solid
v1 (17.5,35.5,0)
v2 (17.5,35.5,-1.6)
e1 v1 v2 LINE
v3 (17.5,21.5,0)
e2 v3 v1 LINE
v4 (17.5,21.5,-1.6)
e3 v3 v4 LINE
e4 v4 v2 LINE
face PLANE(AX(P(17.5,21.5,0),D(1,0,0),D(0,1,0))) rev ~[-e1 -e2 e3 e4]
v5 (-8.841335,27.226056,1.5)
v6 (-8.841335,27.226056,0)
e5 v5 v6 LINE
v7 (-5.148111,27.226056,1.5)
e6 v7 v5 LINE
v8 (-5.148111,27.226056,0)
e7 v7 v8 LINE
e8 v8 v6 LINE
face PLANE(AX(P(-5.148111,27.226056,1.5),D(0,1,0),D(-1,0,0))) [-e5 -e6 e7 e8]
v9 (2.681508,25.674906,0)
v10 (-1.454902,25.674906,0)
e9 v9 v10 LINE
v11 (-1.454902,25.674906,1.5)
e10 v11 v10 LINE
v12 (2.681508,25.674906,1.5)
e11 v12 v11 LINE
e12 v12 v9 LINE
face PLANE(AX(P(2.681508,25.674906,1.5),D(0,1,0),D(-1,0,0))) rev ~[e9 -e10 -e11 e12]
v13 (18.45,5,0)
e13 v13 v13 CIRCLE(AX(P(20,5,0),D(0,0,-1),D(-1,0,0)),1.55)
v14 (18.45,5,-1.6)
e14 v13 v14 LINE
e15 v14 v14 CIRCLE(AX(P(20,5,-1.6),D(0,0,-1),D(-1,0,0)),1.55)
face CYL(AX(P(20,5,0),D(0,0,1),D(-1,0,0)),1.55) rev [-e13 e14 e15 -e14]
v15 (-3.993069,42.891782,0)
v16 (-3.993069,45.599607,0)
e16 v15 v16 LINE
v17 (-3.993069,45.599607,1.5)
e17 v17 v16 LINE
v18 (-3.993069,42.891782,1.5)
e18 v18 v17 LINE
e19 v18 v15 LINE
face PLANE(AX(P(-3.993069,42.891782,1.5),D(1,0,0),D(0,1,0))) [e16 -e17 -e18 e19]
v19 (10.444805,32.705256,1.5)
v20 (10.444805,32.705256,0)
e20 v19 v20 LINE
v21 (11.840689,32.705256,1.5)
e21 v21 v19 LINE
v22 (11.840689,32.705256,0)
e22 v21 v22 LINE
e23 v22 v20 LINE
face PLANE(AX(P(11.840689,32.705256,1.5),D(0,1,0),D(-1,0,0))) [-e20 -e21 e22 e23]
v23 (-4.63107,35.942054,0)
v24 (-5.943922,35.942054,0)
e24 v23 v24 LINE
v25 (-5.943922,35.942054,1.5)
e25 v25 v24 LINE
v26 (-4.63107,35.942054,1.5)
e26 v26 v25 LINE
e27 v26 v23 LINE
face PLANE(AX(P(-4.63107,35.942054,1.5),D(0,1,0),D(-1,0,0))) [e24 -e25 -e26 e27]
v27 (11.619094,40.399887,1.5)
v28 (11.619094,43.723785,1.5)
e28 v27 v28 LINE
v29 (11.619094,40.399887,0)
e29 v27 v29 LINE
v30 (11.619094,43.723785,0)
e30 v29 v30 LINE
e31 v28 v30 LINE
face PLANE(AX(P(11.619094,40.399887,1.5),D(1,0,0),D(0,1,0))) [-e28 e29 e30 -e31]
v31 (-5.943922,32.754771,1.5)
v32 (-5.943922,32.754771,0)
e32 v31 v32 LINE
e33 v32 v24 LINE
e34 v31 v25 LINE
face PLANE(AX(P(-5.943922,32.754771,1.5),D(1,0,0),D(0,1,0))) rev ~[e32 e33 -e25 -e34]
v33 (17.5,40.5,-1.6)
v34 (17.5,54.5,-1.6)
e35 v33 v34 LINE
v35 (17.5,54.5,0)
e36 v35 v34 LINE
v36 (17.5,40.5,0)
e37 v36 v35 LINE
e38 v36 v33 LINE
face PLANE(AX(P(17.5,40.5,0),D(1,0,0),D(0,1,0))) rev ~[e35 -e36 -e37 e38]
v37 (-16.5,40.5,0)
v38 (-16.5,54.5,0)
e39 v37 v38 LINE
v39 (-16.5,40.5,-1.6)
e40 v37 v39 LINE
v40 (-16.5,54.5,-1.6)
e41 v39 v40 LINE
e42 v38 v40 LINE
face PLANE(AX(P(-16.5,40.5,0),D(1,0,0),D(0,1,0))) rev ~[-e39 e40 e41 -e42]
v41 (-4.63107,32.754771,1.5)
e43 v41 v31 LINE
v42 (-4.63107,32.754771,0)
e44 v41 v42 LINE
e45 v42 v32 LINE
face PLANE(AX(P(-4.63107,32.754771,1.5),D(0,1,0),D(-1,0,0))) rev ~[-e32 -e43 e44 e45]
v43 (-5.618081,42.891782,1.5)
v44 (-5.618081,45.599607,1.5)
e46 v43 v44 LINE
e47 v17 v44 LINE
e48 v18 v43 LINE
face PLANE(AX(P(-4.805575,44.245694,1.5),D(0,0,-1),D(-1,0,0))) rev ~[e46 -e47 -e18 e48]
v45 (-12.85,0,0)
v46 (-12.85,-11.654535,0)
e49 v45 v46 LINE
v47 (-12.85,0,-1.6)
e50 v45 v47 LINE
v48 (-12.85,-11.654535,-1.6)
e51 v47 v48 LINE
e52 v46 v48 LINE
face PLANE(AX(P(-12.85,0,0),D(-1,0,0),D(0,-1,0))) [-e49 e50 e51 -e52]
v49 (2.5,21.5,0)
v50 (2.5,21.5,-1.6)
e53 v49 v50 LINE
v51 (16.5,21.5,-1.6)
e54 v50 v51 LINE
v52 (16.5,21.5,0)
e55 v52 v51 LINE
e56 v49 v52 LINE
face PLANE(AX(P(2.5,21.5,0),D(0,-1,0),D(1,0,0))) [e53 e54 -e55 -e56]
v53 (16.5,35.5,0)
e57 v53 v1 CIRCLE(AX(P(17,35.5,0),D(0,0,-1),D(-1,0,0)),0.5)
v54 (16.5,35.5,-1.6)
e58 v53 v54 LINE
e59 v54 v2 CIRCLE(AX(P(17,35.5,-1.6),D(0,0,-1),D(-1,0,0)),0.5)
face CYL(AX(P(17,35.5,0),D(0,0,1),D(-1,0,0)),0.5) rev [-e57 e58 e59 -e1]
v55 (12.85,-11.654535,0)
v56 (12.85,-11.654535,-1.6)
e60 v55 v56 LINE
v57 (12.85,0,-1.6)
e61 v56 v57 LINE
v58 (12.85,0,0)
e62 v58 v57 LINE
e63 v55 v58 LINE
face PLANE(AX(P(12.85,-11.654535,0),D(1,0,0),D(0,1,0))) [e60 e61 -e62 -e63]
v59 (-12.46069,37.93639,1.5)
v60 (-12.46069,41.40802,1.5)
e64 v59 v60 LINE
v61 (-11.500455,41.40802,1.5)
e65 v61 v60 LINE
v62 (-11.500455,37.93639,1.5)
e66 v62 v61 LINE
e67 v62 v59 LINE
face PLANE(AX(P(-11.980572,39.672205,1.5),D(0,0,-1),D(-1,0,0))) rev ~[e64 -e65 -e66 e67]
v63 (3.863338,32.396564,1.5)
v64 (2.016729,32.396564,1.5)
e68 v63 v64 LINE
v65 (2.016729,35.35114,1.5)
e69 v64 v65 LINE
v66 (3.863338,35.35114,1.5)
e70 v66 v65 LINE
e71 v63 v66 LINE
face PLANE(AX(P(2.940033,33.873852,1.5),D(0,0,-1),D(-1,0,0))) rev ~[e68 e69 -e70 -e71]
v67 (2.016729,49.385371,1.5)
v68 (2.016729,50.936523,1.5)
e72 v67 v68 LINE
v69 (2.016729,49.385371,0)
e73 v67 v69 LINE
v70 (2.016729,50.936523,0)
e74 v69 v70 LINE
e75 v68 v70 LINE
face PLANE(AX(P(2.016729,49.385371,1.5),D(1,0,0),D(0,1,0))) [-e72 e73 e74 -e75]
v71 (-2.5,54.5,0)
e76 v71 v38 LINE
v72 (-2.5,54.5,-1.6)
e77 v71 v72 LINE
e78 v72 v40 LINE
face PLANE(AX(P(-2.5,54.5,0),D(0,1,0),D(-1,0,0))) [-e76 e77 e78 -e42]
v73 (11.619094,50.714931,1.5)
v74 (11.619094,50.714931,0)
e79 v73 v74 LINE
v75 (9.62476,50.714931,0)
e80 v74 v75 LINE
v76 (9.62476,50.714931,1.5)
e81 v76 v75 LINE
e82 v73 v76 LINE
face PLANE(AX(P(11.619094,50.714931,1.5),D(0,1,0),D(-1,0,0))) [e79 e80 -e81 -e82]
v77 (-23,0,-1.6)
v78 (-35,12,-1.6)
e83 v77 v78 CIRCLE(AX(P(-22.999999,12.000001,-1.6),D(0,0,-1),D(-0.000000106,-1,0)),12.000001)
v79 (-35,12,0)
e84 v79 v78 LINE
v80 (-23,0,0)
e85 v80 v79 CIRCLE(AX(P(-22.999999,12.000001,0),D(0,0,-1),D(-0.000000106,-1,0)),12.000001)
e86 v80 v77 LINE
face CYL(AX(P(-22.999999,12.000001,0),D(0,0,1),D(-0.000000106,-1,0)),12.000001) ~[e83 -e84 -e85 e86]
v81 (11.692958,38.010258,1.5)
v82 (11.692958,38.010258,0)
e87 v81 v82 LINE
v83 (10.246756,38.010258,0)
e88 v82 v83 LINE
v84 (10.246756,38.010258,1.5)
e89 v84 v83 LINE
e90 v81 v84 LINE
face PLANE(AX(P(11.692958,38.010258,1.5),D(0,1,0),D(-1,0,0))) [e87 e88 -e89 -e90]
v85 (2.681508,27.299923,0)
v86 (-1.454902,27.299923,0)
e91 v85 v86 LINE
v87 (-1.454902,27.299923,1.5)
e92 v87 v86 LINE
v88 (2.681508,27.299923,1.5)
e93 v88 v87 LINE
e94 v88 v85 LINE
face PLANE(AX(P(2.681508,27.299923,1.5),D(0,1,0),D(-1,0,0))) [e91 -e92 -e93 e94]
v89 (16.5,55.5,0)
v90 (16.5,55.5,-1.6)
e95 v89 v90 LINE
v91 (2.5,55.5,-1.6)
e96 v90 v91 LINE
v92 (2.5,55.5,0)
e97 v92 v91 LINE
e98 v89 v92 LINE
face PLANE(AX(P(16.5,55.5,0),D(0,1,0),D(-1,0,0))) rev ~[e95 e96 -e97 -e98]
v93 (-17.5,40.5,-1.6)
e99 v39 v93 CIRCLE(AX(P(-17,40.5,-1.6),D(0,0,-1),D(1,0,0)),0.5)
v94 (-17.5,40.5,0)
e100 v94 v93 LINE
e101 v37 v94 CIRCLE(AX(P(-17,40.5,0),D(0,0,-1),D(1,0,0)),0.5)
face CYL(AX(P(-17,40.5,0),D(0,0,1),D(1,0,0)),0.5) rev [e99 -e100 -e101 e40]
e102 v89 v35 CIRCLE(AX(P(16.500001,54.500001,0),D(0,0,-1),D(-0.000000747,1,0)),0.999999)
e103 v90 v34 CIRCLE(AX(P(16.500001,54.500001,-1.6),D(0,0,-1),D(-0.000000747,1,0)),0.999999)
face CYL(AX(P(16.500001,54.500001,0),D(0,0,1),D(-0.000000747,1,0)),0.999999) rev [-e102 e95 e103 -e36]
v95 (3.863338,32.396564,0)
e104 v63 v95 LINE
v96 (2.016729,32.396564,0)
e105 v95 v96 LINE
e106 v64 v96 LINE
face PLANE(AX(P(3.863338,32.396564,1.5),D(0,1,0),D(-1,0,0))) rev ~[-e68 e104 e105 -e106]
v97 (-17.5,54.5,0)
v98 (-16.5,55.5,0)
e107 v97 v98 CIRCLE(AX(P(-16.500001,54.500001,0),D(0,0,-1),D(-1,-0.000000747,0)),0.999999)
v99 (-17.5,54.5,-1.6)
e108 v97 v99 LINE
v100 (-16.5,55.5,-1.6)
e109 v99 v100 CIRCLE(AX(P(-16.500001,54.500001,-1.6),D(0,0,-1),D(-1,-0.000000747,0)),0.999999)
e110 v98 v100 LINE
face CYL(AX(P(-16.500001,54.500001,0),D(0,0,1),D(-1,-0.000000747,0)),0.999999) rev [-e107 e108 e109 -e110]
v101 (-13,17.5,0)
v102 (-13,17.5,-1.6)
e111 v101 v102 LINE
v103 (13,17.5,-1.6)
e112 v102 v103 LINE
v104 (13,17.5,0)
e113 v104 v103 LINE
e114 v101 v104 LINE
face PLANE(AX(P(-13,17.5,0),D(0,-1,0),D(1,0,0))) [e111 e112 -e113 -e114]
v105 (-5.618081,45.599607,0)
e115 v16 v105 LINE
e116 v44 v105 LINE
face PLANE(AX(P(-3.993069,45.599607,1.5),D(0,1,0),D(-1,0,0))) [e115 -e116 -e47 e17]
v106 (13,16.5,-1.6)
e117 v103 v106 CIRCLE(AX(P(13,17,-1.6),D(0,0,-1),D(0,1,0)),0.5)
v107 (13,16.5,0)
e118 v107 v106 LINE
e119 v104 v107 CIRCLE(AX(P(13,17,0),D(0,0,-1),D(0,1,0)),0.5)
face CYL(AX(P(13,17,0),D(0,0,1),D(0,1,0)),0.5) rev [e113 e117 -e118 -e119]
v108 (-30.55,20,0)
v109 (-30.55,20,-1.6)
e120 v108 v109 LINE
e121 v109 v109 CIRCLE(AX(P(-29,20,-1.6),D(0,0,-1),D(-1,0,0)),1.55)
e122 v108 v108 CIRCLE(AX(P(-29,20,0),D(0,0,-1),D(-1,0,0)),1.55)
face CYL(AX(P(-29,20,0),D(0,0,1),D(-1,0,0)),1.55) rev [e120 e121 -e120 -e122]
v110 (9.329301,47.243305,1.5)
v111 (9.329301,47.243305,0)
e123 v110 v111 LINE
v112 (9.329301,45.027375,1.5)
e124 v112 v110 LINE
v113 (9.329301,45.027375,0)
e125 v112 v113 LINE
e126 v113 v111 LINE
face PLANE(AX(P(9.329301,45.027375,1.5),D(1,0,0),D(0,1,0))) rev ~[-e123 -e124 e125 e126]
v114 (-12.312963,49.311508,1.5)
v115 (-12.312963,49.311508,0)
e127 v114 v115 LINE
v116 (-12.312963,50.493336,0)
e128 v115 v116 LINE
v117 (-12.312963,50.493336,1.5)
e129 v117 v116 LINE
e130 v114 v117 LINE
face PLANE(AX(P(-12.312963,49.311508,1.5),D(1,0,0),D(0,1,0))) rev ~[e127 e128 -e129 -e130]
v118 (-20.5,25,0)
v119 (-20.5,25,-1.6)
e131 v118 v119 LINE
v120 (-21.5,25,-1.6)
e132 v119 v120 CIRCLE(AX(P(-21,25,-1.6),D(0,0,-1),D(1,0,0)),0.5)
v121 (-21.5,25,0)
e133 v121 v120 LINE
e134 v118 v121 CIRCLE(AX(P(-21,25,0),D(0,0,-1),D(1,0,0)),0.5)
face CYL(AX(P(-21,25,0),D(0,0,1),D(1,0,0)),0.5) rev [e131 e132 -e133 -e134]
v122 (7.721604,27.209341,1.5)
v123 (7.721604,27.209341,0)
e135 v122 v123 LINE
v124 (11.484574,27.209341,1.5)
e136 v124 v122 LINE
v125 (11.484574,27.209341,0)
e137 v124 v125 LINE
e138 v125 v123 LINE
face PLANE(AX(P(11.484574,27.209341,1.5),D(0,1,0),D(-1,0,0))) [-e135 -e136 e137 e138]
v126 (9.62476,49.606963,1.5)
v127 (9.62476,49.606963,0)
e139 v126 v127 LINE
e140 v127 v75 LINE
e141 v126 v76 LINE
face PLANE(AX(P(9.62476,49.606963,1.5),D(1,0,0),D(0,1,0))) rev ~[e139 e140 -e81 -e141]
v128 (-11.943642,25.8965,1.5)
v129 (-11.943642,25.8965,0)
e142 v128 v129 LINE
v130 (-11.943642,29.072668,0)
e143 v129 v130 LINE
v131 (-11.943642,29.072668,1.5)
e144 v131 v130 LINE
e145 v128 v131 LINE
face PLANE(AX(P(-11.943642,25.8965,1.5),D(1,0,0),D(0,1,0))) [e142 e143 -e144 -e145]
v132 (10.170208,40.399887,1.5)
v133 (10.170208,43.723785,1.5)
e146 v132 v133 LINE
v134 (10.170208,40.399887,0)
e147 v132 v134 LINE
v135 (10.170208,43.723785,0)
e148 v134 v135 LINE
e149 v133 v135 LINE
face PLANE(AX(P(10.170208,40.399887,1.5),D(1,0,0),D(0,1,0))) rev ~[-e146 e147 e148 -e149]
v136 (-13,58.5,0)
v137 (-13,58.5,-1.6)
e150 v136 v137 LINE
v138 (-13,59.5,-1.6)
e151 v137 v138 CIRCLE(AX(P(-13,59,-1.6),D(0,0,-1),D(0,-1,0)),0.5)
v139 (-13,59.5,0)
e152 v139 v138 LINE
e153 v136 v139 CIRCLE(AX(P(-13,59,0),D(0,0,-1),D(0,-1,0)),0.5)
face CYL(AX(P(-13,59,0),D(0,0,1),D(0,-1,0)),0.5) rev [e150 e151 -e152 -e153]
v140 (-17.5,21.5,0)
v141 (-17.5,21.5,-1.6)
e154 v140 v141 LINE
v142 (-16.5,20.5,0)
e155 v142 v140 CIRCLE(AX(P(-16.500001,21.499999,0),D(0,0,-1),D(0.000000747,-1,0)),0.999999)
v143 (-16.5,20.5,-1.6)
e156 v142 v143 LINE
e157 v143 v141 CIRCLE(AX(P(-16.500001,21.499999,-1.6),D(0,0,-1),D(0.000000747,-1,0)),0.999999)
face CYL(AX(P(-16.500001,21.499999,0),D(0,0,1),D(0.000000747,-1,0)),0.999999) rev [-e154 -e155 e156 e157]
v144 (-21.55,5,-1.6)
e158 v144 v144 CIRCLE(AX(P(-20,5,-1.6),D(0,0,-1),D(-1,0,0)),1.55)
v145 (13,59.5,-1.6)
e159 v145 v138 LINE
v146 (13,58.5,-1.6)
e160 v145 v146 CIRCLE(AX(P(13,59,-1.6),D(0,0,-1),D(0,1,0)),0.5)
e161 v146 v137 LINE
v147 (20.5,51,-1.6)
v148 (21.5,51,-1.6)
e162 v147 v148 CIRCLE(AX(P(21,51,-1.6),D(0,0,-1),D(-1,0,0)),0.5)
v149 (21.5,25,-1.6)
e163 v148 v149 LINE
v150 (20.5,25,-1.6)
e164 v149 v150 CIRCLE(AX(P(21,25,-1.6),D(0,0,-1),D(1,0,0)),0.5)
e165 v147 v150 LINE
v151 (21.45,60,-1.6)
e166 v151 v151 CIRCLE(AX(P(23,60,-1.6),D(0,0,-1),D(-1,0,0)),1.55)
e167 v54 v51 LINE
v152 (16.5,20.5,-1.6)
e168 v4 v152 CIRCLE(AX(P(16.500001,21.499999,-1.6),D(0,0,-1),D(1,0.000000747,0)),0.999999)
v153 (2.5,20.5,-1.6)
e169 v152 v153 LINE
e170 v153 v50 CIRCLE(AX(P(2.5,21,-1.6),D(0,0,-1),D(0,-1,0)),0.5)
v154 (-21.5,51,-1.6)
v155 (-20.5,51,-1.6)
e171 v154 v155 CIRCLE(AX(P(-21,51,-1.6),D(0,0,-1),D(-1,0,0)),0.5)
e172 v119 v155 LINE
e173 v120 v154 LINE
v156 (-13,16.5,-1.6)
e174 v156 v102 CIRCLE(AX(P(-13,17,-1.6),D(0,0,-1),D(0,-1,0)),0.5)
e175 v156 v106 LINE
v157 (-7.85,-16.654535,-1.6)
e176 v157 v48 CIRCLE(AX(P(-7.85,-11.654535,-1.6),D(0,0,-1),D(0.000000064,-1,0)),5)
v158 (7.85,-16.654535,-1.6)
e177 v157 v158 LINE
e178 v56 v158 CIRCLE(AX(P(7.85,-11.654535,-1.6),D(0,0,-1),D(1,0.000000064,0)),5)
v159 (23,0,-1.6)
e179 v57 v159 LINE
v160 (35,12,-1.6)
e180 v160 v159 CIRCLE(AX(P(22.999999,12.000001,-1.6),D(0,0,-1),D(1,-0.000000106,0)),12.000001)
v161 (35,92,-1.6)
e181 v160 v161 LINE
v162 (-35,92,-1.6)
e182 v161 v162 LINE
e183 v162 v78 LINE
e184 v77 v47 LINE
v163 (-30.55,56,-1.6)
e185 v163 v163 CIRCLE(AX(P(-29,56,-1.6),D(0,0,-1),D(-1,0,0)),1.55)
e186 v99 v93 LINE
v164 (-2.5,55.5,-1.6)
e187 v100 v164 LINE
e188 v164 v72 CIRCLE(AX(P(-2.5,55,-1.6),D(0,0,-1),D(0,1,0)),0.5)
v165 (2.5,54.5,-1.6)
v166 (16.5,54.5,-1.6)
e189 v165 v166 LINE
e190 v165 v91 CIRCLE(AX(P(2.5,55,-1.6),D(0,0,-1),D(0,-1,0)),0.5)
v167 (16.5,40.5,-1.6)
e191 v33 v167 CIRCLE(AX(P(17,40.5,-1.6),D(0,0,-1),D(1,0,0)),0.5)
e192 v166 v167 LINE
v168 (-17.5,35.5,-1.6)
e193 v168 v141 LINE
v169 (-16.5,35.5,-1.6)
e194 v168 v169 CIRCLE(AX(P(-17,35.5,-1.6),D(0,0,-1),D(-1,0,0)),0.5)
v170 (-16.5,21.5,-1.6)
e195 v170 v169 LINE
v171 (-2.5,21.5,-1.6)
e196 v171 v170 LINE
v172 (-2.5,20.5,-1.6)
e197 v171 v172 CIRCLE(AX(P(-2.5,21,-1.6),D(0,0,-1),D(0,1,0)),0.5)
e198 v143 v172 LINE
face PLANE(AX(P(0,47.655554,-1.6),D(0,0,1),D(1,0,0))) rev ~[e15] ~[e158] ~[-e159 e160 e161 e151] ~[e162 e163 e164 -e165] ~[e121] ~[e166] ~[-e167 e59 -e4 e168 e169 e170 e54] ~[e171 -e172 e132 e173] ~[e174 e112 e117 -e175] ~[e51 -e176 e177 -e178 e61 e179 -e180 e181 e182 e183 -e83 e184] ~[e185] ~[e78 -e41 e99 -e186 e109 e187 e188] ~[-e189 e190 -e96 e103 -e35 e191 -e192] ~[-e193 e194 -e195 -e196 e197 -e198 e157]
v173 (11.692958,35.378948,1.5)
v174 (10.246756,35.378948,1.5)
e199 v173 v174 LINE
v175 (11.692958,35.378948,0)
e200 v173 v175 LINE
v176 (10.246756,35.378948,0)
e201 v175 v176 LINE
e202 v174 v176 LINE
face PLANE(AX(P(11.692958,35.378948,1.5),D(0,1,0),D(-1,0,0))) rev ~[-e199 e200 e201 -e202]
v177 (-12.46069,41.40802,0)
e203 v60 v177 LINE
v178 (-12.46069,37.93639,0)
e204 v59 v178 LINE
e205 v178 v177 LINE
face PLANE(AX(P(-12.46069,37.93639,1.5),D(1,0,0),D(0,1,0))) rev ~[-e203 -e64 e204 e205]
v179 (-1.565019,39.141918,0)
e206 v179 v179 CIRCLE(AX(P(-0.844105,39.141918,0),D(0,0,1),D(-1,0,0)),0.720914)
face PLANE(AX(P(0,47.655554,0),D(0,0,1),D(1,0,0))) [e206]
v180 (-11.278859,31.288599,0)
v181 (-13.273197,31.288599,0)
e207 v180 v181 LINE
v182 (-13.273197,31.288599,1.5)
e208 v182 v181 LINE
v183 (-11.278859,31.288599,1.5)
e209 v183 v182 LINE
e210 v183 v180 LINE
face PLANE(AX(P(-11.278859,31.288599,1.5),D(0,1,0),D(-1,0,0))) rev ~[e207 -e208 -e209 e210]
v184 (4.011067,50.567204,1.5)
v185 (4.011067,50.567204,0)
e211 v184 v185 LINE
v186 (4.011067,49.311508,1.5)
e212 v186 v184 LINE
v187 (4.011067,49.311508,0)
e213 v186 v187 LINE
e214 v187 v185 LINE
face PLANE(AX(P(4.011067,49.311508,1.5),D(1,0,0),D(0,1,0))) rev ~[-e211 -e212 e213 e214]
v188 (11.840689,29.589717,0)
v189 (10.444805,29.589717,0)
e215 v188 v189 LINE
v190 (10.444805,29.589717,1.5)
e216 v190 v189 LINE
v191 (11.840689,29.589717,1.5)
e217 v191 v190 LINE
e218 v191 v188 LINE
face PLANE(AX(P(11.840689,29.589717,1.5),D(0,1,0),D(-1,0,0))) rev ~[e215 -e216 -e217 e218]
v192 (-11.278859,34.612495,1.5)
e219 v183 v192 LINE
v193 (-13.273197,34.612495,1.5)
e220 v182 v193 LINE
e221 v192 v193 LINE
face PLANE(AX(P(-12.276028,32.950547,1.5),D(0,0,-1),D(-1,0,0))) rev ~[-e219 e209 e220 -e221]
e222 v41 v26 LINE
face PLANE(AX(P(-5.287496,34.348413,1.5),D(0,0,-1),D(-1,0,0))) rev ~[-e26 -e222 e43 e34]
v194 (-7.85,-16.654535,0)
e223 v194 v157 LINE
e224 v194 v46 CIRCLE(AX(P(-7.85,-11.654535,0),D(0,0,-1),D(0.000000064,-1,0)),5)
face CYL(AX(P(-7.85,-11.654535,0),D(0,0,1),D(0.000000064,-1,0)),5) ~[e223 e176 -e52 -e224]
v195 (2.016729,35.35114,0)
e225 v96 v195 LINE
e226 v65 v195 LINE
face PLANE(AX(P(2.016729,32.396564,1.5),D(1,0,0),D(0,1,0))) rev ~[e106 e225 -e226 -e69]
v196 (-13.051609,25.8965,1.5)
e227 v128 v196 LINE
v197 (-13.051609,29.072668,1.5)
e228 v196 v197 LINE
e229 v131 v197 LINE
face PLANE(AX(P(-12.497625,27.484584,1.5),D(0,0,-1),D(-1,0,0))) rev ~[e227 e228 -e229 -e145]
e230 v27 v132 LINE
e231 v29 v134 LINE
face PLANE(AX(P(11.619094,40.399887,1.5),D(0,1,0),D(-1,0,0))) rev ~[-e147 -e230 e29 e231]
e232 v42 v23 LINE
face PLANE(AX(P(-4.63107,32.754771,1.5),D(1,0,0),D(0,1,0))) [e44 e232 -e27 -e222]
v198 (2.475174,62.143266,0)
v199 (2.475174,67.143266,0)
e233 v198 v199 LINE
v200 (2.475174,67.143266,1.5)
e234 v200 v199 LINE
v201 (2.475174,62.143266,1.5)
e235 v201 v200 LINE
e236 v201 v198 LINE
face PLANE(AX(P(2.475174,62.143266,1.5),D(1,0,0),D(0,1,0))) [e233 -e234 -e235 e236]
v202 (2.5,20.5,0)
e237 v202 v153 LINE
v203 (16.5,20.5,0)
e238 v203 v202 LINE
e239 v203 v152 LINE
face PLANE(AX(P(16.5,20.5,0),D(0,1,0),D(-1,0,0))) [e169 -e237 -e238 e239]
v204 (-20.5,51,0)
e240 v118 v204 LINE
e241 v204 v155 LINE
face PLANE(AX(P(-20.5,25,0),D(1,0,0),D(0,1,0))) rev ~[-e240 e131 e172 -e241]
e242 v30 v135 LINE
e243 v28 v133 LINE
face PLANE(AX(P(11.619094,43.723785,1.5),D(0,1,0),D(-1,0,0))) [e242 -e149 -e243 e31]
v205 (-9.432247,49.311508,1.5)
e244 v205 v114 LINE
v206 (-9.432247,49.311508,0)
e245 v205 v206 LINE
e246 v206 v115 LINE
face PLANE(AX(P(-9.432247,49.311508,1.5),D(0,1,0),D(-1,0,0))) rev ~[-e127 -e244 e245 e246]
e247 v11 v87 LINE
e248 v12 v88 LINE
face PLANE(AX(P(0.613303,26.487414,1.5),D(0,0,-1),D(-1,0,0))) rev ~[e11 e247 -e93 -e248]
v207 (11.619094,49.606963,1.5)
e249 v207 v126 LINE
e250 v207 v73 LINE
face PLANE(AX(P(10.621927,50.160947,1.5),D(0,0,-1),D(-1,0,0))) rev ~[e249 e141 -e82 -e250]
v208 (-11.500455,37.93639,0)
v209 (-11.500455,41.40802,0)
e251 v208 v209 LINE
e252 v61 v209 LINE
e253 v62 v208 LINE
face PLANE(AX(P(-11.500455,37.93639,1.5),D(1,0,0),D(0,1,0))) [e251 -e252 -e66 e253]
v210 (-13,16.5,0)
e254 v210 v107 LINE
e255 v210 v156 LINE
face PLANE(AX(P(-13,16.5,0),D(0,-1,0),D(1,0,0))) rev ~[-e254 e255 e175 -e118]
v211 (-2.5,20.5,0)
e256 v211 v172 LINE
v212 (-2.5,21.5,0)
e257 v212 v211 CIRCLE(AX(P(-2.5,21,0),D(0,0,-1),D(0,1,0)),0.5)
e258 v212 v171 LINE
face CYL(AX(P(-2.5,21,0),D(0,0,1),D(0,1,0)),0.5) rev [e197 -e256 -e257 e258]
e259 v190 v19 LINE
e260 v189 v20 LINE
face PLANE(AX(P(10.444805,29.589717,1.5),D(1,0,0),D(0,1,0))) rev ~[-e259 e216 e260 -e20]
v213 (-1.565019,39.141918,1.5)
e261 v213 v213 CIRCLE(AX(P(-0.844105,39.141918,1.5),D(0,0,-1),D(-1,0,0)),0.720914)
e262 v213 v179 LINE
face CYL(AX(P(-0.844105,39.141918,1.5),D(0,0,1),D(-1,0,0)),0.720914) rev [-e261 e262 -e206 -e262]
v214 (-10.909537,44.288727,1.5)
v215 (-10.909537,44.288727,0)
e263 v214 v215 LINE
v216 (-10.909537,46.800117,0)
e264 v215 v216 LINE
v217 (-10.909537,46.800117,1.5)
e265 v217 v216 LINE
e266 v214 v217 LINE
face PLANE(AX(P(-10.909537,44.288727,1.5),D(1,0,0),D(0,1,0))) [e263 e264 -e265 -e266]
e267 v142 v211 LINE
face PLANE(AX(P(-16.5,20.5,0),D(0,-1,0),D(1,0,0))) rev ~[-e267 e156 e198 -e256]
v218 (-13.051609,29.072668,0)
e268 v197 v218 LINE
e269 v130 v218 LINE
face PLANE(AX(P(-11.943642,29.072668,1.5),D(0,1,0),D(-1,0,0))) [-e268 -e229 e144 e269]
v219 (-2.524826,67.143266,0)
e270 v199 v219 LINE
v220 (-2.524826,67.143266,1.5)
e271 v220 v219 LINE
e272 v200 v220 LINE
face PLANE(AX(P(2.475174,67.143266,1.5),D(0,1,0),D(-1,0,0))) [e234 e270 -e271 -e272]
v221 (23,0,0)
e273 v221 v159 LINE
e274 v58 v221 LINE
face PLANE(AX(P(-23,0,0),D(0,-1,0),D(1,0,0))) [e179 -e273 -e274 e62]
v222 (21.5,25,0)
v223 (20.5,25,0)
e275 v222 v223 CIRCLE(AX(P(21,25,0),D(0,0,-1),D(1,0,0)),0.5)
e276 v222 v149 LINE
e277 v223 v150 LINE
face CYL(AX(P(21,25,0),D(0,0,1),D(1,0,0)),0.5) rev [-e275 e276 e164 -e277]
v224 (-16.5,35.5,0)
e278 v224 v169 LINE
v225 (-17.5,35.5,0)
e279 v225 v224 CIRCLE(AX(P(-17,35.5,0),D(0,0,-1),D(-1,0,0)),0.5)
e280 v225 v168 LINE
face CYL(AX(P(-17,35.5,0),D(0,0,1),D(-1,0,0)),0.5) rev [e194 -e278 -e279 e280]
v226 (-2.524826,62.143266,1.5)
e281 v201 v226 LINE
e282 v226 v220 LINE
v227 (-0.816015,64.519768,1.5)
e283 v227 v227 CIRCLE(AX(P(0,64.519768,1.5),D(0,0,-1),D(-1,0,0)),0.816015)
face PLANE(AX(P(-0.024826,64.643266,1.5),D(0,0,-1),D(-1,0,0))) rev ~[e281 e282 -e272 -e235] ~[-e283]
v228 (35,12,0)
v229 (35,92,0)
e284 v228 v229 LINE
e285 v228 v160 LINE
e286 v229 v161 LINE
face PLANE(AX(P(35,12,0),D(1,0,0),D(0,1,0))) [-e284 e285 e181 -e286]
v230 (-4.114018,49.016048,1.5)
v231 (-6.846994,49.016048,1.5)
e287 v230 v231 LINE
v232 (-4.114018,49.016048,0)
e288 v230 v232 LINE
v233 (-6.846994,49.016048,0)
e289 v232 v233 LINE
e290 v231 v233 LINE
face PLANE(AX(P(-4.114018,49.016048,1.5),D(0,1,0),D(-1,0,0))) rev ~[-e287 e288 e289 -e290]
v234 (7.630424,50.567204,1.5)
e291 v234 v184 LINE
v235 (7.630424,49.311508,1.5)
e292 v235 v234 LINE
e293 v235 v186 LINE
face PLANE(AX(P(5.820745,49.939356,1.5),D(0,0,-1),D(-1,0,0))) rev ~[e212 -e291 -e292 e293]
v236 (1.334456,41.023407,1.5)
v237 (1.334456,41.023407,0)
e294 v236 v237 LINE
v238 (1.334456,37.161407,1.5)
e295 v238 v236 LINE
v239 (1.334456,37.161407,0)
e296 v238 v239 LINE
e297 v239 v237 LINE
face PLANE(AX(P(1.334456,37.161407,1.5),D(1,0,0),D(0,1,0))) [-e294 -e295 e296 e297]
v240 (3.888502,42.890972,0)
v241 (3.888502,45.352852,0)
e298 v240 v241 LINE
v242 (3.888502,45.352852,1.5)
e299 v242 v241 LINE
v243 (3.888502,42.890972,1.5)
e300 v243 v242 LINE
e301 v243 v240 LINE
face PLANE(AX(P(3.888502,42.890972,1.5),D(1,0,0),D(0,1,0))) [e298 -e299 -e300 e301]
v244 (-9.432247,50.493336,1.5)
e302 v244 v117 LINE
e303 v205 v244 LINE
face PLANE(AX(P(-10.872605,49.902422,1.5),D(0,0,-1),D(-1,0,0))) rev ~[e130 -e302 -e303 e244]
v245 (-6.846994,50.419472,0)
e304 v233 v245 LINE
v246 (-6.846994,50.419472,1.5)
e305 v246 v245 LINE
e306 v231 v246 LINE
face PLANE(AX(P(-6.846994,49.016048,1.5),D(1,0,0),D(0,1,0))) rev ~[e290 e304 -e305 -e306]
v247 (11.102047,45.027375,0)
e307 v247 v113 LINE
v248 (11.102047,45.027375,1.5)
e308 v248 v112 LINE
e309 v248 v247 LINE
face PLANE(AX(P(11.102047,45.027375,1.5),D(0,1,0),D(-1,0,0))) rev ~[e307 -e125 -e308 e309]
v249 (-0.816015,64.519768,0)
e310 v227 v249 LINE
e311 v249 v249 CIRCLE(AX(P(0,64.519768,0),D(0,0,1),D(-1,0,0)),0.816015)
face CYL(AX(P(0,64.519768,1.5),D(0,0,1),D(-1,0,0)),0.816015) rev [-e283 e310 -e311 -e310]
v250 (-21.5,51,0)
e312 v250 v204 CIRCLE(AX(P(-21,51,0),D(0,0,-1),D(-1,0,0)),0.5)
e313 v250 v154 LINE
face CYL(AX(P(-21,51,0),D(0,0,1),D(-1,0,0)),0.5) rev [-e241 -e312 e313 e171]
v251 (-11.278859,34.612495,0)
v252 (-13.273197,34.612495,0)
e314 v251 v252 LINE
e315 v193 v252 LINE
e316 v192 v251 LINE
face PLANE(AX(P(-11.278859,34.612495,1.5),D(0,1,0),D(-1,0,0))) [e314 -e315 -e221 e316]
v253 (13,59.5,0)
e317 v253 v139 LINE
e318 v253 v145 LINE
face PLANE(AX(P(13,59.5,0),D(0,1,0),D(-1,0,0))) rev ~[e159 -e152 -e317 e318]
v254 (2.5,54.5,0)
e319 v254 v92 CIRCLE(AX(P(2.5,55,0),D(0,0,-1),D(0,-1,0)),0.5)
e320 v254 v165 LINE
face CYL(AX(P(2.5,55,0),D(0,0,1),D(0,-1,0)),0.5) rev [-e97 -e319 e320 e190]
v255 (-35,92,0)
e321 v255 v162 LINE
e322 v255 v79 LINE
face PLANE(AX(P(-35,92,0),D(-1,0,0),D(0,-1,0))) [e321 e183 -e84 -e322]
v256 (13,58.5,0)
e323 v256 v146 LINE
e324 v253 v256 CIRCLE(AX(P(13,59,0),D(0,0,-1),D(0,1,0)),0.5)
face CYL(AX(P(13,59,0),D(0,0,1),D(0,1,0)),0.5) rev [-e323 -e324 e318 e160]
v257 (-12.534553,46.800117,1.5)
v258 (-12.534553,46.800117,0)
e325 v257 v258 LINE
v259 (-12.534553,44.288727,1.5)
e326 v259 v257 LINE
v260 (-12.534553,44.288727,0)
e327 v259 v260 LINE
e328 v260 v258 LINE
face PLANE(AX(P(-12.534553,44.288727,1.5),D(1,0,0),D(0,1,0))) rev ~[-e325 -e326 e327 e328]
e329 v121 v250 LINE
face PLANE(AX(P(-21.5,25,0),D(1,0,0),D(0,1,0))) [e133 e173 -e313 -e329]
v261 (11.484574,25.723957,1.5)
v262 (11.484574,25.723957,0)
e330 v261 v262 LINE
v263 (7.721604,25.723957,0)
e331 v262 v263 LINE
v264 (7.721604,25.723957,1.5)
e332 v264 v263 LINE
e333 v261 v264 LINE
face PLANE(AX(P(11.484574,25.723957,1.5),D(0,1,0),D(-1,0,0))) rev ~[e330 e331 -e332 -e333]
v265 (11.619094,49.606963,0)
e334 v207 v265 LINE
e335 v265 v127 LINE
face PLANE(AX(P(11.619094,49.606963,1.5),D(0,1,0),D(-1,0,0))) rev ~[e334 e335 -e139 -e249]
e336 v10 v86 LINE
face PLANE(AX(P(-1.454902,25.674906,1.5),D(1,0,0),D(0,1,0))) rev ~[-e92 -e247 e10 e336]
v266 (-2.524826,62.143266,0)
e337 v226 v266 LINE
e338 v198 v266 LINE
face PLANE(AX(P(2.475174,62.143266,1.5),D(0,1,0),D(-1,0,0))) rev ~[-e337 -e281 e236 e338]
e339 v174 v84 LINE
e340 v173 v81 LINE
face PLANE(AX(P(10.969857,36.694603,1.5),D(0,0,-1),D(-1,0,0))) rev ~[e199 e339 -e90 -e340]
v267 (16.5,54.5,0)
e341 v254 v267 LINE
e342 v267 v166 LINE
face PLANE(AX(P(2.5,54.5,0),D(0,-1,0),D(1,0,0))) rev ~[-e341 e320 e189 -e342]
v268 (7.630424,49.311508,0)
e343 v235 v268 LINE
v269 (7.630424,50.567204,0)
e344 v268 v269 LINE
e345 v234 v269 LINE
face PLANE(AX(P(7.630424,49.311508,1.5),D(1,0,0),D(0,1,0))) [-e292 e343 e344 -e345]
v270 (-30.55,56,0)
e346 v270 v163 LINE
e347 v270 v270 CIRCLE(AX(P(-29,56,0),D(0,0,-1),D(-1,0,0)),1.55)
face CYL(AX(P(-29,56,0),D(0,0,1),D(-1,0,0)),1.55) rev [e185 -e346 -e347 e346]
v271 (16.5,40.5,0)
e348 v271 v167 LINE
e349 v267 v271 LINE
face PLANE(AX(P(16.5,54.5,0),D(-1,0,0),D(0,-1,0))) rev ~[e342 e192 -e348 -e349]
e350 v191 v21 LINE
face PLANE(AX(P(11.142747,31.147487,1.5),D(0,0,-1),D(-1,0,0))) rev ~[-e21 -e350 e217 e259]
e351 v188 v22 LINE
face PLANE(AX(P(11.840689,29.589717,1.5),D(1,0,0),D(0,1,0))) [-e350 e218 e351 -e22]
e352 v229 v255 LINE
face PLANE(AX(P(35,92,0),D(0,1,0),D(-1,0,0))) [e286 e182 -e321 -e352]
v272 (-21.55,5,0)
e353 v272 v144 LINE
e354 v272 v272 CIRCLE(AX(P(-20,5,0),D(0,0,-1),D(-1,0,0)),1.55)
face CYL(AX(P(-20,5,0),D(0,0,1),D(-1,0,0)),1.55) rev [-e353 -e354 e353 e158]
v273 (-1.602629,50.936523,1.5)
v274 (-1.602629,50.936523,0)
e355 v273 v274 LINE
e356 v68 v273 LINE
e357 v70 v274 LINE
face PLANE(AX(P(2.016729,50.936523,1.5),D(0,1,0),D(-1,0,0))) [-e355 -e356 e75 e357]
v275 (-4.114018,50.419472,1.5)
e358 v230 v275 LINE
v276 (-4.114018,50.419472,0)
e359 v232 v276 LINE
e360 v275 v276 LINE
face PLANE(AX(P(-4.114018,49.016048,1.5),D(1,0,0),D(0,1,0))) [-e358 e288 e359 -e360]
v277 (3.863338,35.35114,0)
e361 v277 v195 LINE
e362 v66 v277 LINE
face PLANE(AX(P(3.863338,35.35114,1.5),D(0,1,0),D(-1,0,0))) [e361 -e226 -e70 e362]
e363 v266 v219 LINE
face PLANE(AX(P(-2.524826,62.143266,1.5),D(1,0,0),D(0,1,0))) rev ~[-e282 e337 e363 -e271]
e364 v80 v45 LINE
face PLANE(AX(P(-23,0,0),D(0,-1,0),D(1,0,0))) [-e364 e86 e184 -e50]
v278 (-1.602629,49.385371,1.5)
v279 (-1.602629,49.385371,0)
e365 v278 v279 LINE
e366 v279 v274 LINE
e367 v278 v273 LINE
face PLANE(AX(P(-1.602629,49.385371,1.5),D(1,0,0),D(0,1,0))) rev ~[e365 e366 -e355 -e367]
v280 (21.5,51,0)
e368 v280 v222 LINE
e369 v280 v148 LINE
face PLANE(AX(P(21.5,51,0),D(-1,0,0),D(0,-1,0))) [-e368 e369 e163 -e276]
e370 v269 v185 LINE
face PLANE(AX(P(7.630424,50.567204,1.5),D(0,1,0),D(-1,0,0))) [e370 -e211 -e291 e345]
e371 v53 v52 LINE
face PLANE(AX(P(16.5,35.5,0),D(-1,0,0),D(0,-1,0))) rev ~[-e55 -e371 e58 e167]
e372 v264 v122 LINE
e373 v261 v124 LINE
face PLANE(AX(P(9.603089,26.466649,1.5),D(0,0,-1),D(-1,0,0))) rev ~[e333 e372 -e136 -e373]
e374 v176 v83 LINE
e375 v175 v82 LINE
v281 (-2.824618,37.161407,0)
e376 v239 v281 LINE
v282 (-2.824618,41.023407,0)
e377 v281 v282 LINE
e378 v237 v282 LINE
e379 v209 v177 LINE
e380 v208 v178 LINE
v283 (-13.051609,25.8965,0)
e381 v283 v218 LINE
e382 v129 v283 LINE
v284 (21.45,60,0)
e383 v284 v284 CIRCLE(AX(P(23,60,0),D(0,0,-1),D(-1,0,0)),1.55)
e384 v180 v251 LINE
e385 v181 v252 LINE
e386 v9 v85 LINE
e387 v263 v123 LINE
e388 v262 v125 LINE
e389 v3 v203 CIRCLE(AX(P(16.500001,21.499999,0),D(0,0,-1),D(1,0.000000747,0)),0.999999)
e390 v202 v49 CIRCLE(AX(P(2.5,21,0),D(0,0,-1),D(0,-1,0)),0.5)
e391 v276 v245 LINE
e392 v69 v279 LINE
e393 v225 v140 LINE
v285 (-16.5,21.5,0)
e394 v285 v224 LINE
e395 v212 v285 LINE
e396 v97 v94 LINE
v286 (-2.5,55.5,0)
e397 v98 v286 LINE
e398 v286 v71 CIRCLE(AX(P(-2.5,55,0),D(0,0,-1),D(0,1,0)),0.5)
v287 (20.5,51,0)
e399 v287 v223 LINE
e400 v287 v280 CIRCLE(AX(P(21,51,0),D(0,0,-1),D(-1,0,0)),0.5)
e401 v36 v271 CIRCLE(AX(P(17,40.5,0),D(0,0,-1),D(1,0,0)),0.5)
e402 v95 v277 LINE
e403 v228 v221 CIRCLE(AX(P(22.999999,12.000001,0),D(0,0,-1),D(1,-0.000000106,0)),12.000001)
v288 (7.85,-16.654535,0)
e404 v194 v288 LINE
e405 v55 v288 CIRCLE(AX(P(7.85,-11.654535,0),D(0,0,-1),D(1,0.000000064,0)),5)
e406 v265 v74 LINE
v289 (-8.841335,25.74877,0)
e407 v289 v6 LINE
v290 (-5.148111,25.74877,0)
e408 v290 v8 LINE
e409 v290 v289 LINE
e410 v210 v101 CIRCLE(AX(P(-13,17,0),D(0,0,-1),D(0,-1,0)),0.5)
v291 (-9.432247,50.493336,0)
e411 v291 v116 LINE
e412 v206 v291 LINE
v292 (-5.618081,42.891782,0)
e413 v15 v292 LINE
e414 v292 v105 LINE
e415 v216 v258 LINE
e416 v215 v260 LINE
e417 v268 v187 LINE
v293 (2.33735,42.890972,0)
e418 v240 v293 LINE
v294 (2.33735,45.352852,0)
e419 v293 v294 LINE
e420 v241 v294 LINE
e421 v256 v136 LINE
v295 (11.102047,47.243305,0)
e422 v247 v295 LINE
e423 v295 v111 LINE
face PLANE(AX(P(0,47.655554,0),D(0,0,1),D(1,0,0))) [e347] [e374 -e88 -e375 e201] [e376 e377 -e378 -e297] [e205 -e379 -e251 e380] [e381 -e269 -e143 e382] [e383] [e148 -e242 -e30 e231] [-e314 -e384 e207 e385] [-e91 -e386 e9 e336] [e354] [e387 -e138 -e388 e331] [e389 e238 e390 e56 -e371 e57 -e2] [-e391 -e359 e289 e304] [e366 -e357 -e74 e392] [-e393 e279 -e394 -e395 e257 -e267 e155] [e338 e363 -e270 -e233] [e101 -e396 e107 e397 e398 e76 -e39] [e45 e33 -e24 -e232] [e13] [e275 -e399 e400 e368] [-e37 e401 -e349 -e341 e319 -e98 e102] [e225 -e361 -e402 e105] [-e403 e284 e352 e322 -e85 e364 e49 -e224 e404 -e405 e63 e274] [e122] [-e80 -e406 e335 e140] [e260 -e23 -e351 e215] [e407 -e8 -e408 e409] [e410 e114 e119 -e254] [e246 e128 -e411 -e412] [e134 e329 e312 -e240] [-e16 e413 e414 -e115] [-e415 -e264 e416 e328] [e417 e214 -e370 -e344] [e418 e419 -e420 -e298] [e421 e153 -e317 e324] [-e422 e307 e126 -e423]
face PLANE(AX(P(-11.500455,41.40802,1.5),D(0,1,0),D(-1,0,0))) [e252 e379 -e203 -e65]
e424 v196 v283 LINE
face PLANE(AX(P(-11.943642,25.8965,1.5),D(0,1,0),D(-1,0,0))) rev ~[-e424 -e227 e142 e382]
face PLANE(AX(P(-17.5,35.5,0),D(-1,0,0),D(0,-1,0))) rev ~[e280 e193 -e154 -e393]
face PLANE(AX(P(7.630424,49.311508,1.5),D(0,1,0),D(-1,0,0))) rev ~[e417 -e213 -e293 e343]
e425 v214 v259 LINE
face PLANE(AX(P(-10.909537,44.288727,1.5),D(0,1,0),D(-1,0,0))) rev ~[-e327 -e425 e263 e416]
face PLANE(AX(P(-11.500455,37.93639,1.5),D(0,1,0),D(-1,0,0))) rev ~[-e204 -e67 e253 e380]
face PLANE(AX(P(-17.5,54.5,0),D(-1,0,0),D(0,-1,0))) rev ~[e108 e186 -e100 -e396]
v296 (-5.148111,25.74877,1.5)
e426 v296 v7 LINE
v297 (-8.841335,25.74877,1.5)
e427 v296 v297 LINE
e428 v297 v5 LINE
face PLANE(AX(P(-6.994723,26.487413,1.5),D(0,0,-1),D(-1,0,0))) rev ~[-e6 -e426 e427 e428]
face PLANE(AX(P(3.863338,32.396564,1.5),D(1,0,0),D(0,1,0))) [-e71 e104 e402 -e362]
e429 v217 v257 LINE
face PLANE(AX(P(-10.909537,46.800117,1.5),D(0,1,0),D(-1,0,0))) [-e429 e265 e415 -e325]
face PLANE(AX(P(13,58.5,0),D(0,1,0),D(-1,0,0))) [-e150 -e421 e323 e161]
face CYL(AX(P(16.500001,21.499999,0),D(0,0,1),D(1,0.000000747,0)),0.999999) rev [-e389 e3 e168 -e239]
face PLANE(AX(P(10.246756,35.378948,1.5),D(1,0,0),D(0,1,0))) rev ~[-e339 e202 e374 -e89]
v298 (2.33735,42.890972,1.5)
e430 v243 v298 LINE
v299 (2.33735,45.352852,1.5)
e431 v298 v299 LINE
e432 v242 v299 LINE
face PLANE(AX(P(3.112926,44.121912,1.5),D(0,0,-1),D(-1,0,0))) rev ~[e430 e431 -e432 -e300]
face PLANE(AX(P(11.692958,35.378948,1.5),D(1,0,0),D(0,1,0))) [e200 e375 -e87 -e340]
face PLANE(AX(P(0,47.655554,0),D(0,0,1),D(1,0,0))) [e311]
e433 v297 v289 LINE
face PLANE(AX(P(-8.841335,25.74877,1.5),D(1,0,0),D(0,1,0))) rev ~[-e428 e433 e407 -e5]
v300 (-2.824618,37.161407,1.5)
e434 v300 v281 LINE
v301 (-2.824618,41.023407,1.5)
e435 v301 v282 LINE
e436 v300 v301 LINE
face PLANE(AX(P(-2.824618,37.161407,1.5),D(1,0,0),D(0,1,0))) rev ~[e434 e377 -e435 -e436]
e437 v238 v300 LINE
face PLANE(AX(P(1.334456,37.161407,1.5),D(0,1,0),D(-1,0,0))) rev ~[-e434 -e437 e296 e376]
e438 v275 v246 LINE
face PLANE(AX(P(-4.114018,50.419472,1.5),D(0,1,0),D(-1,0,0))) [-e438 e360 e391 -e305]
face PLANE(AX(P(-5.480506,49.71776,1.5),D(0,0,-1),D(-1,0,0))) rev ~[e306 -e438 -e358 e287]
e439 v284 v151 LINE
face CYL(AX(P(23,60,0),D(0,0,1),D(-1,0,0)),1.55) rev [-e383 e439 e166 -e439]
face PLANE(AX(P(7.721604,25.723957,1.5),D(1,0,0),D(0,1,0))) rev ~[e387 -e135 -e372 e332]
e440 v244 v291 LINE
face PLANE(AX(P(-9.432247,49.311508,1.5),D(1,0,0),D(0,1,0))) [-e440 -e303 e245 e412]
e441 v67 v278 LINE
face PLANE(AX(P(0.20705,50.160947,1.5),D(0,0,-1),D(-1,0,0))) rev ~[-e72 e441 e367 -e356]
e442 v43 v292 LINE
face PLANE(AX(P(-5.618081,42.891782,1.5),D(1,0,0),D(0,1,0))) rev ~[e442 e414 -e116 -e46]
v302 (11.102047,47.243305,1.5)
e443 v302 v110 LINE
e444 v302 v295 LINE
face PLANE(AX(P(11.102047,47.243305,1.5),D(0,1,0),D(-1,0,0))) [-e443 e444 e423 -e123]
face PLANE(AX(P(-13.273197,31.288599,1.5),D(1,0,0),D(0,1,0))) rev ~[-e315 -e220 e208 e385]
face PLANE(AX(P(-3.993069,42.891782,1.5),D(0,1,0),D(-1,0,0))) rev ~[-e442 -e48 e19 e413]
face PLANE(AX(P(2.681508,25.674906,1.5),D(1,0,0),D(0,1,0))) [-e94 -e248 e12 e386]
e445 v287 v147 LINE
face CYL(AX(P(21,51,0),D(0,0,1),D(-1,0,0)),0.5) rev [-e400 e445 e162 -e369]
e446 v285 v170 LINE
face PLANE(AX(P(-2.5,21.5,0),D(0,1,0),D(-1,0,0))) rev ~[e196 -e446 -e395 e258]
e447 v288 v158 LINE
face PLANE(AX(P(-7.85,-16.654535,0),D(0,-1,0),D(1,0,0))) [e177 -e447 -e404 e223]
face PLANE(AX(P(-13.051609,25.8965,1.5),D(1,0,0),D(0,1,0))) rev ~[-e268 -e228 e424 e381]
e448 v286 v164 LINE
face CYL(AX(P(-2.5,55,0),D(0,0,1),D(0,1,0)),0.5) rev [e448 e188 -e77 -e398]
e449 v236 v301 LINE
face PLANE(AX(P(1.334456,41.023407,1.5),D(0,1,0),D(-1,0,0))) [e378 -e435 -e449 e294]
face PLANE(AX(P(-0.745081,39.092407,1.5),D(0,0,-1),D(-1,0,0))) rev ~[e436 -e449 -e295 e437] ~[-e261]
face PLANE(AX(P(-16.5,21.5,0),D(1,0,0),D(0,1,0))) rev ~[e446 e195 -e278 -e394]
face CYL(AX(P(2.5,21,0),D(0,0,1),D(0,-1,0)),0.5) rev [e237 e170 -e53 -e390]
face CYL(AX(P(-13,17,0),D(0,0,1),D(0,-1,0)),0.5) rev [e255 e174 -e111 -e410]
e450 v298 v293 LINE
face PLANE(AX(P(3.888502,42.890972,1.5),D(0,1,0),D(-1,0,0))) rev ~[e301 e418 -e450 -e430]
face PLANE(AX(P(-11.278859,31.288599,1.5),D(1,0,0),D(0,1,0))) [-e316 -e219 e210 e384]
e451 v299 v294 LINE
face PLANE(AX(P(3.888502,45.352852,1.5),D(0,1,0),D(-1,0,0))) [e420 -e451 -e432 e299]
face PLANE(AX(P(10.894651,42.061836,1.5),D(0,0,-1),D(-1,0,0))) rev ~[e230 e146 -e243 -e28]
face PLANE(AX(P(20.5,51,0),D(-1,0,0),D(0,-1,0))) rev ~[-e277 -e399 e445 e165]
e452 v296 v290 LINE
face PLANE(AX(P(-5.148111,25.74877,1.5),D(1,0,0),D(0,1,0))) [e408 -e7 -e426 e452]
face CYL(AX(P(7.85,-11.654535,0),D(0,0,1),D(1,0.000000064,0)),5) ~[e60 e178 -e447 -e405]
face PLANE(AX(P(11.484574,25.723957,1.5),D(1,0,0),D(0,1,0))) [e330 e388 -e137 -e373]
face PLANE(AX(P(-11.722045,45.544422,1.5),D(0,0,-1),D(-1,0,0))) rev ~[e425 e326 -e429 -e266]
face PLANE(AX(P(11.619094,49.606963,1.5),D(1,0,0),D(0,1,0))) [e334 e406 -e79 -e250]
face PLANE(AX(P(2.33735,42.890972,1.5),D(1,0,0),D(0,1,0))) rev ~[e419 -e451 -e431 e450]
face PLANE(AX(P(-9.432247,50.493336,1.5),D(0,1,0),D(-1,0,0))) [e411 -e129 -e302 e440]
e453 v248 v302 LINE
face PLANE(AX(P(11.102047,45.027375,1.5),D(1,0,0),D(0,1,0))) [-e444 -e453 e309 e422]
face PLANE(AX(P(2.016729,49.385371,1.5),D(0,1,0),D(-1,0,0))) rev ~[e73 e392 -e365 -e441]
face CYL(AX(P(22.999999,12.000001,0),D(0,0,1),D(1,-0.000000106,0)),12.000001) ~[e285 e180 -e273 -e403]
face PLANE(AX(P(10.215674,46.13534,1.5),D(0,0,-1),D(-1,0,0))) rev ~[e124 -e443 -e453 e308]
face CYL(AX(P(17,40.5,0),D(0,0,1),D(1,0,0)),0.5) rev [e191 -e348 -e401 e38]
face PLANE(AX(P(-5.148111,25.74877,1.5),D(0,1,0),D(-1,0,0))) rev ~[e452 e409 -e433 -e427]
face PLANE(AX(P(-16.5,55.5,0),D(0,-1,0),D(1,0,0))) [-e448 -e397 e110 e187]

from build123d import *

# Parameters (mm, degrees)
SKETCH005_R             = 1.55
PAD_DEPTH               = 1.6
SKETCH016_W             = 1.994334
SKETCH016_H             = 1.107967
SKETCH016_W_2           = 3.619357
SKETCH016_H_2           = 1.255696
SKETCH016_H_3           = 1.551151
SKETCH016_W_3           = 2.732976
SKETCH016_H_4           = 1.403424
SKETCH016_W_4           = 2.880716
SKETCH016_H_5           = 1.181828
SKETCH016_W_5           = 1.625016
SKETCH016_H_6           = 2.51139
SKETCH016_W_6           = 0.960235
SKETCH016_H_7           = 3.47163
SKETCH016_W_7           = 1.994338
SKETCH016_H_8           = 3.323896
SKETCH016_W_8           = 1.107967
SKETCH016_H_9           = 3.176168
SKETCH016_W_9           = 3.693223
SKETCH016_H_10          = 1.477287
SKETCH016_W_10          = 4.13641
SKETCH016_H_11          = 1.625017
SKETCH016_W_11          = 3.76297
SKETCH016_H_12          = 1.485384
SKETCH016_W_12          = 1.395884
SKETCH016_H_13          = 3.115539
SKETCH016_W_13          = 1.446203
SKETCH016_H_14          = 2.63131
SKETCH016_W_14          = 1.448886
SKETCH016_H_15          = 3.323898
SKETCH016_W_15          = 1.772745
SKETCH016_H_16          = 2.215931
SKETCH016_W_16          = 1.625013
SKETCH016_H_17          = 2.707825
SKETCH016_W_17          = 1.312852
SKETCH016_H_18          = 3.187283
SKETCH016_W_18          = 1.846609
SKETCH016_H_19          = 2.954575
SKETCH016_W_19          = 1.551152
SKETCH016_H_20          = 2.46188
SKETCH016_W_20          = 4.159074
SKETCH016_H_21          = 3.862
SKETCH016_R             = 0.720914
SKETCH016_W_21          = 5
SKETCH016_H_22          = 5
SKETCH016_R_2           = 0.816015
PAD004_DEPTH            = 2
PAD007_DEPTH            = 1.6
BODY002_PLACEMENT_ANGLE = 180


with BuildPart() as part:
    # Sketch005 → Pad (new body)
    with BuildSketch(Plane.XY):
        with BuildLine():
            Line((-35, 92), (35, 92))
            Line((35, 92), (35, 12))
            ThreePointArc((23, 0), (31.485281, 3.514719), (35, 12))
            Line((23, 0), (-23, 0))
            ThreePointArc((-35, 12), (-31.485281, 3.514719), (-23, 0))
            Line((-35, 12), (-35, 92))
        make_face()
        with Locations((-23, 60)):
            Circle(SKETCH005_R, mode=Mode.SUBTRACT)
        with Locations((29, 56)):
            Circle(SKETCH005_R, mode=Mode.SUBTRACT)
        with Locations((29, 20)):
            Circle(SKETCH005_R, mode=Mode.SUBTRACT)
        with Locations((20, 5)):
            Circle(SKETCH005_R, mode=Mode.SUBTRACT)
        with Locations((-20, 5)):
            Circle(SKETCH005_R, mode=Mode.SUBTRACT)
        with BuildLine():
            Line((-2.5, 54.5), (-16.5, 54.5))
            Line((-16.5, 54.5), (-16.5, 40.5))
            ThreePointArc((-17.5, 40.5), (-17, 40), (-16.5, 40.5))
            Line((-17.5, 40.5), (-17.5, 54.5))
            ThreePointArc((-16.5, 55.5), (-17.207107, 55.207107), (-17.5, 54.5))
            Line((-16.5, 55.5), (-2.5, 55.5))
            ThreePointArc((-2.5, 54.5), (-2, 55), (-2.5, 55.5))
        make_face(mode=Mode.SUBTRACT)
        with BuildLine():
            Line((2.5, 21.5), (16.5, 21.5))
            Line((16.5, 21.5), (16.5, 35.5))
            ThreePointArc((17.5, 35.5), (17, 36), (16.5, 35.5))
            Line((17.5, 35.5), (17.5, 21.5))
            ThreePointArc((16.5, 20.5), (17.207107, 20.792893), (17.5, 21.5))
            Line((16.5, 20.5), (2.5, 20.5))
            ThreePointArc((2.5, 21.5), (2, 21), (2.5, 20.5))
        make_face(mode=Mode.SUBTRACT)
        with BuildLine():
            Line((2.5, 54.5), (16.5, 54.5))
            Line((16.5, 40.5), (16.5, 54.5))
            ThreePointArc((16.5, 40.5), (17, 40), (17.5, 40.5))
            Line((17.5, 54.5), (17.5, 40.5))
            ThreePointArc((17.5, 54.5), (17.207107, 55.207107), (16.5, 55.5))
            Line((16.5, 55.5), (2.5, 55.5))
            ThreePointArc((2.5, 55.5), (2, 55), (2.5, 54.5))
        make_face(mode=Mode.SUBTRACT)
        with BuildLine():
            Line((-2.5, 21.5), (-16.5, 21.5))
            Line((-16.5, 35.5), (-16.5, 21.5))
            ThreePointArc((-16.5, 35.5), (-17, 36), (-17.5, 35.5))
            Line((-17.5, 21.5), (-17.5, 35.5))
            ThreePointArc((-17.5, 21.5), (-17.207107, 20.792893), (-16.5, 20.5))
            Line((-16.5, 20.5), (-2.5, 20.5))
            ThreePointArc((-2.5, 20.5), (-2, 21), (-2.5, 21.5))
        make_face(mode=Mode.SUBTRACT)
        with BuildLine():
            Line((-13, 59.5), (13, 59.5))
            ThreePointArc((13, 58.5), (13.5, 59), (13, 59.5))
            Line((-13, 58.5), (13, 58.5))
            ThreePointArc((-13, 59.5), (-13.5, 59), (-13, 58.5))
        make_face(mode=Mode.SUBTRACT)
        with BuildLine():
            Line((13, 16.5), (-13, 16.5))
            ThreePointArc((-13, 17.5), (-13.5, 17), (-13, 16.5))
            Line((13, 17.5), (-13, 17.5))
            ThreePointArc((13, 16.5), (13.5, 17), (13, 17.5))
        make_face(mode=Mode.SUBTRACT)
        with BuildLine():
            Line((-21.5, 51), (-21.5, 25))
            ThreePointArc((-21.5, 25), (-21, 24.5), (-20.5, 25))
            Line((-20.5, 51), (-20.5, 25))
            ThreePointArc((-20.5, 51), (-21, 51.5), (-21.5, 51))
        make_face(mode=Mode.SUBTRACT)
        with BuildLine():
            Line((21.5, 25), (21.5, 51))
            ThreePointArc((21.5, 51), (21, 51.5), (20.5, 51))
            Line((20.5, 25), (20.5, 51))
            ThreePointArc((20.5, 25), (21, 24.5), (21.5, 25))
        make_face(mode=Mode.SUBTRACT)
    extrude(amount=PAD_DEPTH)

    # Sketch016 → Pad004 (join)
    with BuildSketch(Plane.XY.offset(-1.5)):
        with Locations((-10.621927, 50.160947)):
            Rectangle(SKETCH016_W, SKETCH016_H)
        with Locations((-5.820745, 49.939356)):
            Rectangle(SKETCH016_W_2, SKETCH016_H_2)
        with Locations((-0.20705, 50.160947)):
            Rectangle(SKETCH016_W_2, SKETCH016_H_3)
        with Locations((5.480506, 49.71776)):
            Rectangle(SKETCH016_W_3, SKETCH016_H_4)
        with Locations((10.872605, 49.902422)):
            Rectangle(SKETCH016_W_4, SKETCH016_H_5)
        with Locations((11.722045, 45.544422)):
            Rectangle(SKETCH016_W_5, SKETCH016_H_6)
        with Locations((11.980572, 39.672205)):
            Rectangle(SKETCH016_W_6, SKETCH016_H_7)
        with Locations((12.276028, 32.950547)):
            Rectangle(SKETCH016_W_7, SKETCH016_H_8)
        with Locations((12.497625, 27.484584)):
            Rectangle(SKETCH016_W_8, SKETCH016_H_9)
        with Locations((6.994723, 26.487413)):
            Rectangle(SKETCH016_W_9, SKETCH016_H_10)
        with Locations((-0.613303, 26.487414)):
            Rectangle(SKETCH016_W_10, SKETCH016_H_11)
        with Locations((-9.603089, 26.466649)):
            Rectangle(SKETCH016_W_11, SKETCH016_H_12)
        with Locations((-11.142747, 31.147487)):
            Rectangle(SKETCH016_W_12, SKETCH016_H_13)
        with Locations((-10.969857, 36.694603)):
            Rectangle(SKETCH016_W_13, SKETCH016_H_14)
        with Locations((-10.894651, 42.061836)):
            Rectangle(SKETCH016_W_14, SKETCH016_H_15)
        with Locations((-10.215674, 46.13534)):
            Rectangle(SKETCH016_W_15, SKETCH016_H_16)
        with Locations((4.805575, 44.245694)):
            Rectangle(SKETCH016_W_16, SKETCH016_H_17)
        with Locations((5.287496, 34.348413)):
            Rectangle(SKETCH016_W_17, SKETCH016_H_18)
        with Locations((-2.940033, 33.873852)):
            Rectangle(SKETCH016_W_18, SKETCH016_H_19)
        with Locations((-3.112926, 44.121912)):
            Rectangle(SKETCH016_W_19, SKETCH016_H_20)
        with Locations((0.745081, 39.092407)):
            Rectangle(SKETCH016_W_20, SKETCH016_H_21)
        with Locations((0.844105, 39.141918)):
            Circle(SKETCH016_R, mode=Mode.SUBTRACT)
        with Locations((0.024826, 64.643266)):
            Rectangle(SKETCH016_W_21, SKETCH016_H_22)
        with Locations((0, 64.519768)):
            Circle(SKETCH016_R_2, mode=Mode.SUBTRACT)
    extrude(amount=PAD004_DEPTH)

    # Sketch023 → Pad007 (join)
    with BuildSketch(Plane.XY):
        with BuildLine():
            Line((-12.85, 0), (12.85, 0))
            Line((12.85, 0), (12.85, -11.654535))
            ThreePointArc((7.85, -16.654535), (11.385534, -15.190069), (12.85, -11.654535))
            Line((7.85, -16.654535), (-7.85, -16.654535))
            ThreePointArc((-12.85, -11.654535), (-11.385534, -15.190069), (-7.85, -16.654535))
            Line((-12.85, -11.654535), (-12.85, 0))
        make_face()
    extrude(amount=PAD007_DEPTH)


with BuildPart() as part_1:
    # Body002 placement: moved
    add(part.part.rotate(Axis((0, 0, 0), (0, 1, 0)), BODY002_PLACEMENT_ANGLE))


solid = part_1.part
